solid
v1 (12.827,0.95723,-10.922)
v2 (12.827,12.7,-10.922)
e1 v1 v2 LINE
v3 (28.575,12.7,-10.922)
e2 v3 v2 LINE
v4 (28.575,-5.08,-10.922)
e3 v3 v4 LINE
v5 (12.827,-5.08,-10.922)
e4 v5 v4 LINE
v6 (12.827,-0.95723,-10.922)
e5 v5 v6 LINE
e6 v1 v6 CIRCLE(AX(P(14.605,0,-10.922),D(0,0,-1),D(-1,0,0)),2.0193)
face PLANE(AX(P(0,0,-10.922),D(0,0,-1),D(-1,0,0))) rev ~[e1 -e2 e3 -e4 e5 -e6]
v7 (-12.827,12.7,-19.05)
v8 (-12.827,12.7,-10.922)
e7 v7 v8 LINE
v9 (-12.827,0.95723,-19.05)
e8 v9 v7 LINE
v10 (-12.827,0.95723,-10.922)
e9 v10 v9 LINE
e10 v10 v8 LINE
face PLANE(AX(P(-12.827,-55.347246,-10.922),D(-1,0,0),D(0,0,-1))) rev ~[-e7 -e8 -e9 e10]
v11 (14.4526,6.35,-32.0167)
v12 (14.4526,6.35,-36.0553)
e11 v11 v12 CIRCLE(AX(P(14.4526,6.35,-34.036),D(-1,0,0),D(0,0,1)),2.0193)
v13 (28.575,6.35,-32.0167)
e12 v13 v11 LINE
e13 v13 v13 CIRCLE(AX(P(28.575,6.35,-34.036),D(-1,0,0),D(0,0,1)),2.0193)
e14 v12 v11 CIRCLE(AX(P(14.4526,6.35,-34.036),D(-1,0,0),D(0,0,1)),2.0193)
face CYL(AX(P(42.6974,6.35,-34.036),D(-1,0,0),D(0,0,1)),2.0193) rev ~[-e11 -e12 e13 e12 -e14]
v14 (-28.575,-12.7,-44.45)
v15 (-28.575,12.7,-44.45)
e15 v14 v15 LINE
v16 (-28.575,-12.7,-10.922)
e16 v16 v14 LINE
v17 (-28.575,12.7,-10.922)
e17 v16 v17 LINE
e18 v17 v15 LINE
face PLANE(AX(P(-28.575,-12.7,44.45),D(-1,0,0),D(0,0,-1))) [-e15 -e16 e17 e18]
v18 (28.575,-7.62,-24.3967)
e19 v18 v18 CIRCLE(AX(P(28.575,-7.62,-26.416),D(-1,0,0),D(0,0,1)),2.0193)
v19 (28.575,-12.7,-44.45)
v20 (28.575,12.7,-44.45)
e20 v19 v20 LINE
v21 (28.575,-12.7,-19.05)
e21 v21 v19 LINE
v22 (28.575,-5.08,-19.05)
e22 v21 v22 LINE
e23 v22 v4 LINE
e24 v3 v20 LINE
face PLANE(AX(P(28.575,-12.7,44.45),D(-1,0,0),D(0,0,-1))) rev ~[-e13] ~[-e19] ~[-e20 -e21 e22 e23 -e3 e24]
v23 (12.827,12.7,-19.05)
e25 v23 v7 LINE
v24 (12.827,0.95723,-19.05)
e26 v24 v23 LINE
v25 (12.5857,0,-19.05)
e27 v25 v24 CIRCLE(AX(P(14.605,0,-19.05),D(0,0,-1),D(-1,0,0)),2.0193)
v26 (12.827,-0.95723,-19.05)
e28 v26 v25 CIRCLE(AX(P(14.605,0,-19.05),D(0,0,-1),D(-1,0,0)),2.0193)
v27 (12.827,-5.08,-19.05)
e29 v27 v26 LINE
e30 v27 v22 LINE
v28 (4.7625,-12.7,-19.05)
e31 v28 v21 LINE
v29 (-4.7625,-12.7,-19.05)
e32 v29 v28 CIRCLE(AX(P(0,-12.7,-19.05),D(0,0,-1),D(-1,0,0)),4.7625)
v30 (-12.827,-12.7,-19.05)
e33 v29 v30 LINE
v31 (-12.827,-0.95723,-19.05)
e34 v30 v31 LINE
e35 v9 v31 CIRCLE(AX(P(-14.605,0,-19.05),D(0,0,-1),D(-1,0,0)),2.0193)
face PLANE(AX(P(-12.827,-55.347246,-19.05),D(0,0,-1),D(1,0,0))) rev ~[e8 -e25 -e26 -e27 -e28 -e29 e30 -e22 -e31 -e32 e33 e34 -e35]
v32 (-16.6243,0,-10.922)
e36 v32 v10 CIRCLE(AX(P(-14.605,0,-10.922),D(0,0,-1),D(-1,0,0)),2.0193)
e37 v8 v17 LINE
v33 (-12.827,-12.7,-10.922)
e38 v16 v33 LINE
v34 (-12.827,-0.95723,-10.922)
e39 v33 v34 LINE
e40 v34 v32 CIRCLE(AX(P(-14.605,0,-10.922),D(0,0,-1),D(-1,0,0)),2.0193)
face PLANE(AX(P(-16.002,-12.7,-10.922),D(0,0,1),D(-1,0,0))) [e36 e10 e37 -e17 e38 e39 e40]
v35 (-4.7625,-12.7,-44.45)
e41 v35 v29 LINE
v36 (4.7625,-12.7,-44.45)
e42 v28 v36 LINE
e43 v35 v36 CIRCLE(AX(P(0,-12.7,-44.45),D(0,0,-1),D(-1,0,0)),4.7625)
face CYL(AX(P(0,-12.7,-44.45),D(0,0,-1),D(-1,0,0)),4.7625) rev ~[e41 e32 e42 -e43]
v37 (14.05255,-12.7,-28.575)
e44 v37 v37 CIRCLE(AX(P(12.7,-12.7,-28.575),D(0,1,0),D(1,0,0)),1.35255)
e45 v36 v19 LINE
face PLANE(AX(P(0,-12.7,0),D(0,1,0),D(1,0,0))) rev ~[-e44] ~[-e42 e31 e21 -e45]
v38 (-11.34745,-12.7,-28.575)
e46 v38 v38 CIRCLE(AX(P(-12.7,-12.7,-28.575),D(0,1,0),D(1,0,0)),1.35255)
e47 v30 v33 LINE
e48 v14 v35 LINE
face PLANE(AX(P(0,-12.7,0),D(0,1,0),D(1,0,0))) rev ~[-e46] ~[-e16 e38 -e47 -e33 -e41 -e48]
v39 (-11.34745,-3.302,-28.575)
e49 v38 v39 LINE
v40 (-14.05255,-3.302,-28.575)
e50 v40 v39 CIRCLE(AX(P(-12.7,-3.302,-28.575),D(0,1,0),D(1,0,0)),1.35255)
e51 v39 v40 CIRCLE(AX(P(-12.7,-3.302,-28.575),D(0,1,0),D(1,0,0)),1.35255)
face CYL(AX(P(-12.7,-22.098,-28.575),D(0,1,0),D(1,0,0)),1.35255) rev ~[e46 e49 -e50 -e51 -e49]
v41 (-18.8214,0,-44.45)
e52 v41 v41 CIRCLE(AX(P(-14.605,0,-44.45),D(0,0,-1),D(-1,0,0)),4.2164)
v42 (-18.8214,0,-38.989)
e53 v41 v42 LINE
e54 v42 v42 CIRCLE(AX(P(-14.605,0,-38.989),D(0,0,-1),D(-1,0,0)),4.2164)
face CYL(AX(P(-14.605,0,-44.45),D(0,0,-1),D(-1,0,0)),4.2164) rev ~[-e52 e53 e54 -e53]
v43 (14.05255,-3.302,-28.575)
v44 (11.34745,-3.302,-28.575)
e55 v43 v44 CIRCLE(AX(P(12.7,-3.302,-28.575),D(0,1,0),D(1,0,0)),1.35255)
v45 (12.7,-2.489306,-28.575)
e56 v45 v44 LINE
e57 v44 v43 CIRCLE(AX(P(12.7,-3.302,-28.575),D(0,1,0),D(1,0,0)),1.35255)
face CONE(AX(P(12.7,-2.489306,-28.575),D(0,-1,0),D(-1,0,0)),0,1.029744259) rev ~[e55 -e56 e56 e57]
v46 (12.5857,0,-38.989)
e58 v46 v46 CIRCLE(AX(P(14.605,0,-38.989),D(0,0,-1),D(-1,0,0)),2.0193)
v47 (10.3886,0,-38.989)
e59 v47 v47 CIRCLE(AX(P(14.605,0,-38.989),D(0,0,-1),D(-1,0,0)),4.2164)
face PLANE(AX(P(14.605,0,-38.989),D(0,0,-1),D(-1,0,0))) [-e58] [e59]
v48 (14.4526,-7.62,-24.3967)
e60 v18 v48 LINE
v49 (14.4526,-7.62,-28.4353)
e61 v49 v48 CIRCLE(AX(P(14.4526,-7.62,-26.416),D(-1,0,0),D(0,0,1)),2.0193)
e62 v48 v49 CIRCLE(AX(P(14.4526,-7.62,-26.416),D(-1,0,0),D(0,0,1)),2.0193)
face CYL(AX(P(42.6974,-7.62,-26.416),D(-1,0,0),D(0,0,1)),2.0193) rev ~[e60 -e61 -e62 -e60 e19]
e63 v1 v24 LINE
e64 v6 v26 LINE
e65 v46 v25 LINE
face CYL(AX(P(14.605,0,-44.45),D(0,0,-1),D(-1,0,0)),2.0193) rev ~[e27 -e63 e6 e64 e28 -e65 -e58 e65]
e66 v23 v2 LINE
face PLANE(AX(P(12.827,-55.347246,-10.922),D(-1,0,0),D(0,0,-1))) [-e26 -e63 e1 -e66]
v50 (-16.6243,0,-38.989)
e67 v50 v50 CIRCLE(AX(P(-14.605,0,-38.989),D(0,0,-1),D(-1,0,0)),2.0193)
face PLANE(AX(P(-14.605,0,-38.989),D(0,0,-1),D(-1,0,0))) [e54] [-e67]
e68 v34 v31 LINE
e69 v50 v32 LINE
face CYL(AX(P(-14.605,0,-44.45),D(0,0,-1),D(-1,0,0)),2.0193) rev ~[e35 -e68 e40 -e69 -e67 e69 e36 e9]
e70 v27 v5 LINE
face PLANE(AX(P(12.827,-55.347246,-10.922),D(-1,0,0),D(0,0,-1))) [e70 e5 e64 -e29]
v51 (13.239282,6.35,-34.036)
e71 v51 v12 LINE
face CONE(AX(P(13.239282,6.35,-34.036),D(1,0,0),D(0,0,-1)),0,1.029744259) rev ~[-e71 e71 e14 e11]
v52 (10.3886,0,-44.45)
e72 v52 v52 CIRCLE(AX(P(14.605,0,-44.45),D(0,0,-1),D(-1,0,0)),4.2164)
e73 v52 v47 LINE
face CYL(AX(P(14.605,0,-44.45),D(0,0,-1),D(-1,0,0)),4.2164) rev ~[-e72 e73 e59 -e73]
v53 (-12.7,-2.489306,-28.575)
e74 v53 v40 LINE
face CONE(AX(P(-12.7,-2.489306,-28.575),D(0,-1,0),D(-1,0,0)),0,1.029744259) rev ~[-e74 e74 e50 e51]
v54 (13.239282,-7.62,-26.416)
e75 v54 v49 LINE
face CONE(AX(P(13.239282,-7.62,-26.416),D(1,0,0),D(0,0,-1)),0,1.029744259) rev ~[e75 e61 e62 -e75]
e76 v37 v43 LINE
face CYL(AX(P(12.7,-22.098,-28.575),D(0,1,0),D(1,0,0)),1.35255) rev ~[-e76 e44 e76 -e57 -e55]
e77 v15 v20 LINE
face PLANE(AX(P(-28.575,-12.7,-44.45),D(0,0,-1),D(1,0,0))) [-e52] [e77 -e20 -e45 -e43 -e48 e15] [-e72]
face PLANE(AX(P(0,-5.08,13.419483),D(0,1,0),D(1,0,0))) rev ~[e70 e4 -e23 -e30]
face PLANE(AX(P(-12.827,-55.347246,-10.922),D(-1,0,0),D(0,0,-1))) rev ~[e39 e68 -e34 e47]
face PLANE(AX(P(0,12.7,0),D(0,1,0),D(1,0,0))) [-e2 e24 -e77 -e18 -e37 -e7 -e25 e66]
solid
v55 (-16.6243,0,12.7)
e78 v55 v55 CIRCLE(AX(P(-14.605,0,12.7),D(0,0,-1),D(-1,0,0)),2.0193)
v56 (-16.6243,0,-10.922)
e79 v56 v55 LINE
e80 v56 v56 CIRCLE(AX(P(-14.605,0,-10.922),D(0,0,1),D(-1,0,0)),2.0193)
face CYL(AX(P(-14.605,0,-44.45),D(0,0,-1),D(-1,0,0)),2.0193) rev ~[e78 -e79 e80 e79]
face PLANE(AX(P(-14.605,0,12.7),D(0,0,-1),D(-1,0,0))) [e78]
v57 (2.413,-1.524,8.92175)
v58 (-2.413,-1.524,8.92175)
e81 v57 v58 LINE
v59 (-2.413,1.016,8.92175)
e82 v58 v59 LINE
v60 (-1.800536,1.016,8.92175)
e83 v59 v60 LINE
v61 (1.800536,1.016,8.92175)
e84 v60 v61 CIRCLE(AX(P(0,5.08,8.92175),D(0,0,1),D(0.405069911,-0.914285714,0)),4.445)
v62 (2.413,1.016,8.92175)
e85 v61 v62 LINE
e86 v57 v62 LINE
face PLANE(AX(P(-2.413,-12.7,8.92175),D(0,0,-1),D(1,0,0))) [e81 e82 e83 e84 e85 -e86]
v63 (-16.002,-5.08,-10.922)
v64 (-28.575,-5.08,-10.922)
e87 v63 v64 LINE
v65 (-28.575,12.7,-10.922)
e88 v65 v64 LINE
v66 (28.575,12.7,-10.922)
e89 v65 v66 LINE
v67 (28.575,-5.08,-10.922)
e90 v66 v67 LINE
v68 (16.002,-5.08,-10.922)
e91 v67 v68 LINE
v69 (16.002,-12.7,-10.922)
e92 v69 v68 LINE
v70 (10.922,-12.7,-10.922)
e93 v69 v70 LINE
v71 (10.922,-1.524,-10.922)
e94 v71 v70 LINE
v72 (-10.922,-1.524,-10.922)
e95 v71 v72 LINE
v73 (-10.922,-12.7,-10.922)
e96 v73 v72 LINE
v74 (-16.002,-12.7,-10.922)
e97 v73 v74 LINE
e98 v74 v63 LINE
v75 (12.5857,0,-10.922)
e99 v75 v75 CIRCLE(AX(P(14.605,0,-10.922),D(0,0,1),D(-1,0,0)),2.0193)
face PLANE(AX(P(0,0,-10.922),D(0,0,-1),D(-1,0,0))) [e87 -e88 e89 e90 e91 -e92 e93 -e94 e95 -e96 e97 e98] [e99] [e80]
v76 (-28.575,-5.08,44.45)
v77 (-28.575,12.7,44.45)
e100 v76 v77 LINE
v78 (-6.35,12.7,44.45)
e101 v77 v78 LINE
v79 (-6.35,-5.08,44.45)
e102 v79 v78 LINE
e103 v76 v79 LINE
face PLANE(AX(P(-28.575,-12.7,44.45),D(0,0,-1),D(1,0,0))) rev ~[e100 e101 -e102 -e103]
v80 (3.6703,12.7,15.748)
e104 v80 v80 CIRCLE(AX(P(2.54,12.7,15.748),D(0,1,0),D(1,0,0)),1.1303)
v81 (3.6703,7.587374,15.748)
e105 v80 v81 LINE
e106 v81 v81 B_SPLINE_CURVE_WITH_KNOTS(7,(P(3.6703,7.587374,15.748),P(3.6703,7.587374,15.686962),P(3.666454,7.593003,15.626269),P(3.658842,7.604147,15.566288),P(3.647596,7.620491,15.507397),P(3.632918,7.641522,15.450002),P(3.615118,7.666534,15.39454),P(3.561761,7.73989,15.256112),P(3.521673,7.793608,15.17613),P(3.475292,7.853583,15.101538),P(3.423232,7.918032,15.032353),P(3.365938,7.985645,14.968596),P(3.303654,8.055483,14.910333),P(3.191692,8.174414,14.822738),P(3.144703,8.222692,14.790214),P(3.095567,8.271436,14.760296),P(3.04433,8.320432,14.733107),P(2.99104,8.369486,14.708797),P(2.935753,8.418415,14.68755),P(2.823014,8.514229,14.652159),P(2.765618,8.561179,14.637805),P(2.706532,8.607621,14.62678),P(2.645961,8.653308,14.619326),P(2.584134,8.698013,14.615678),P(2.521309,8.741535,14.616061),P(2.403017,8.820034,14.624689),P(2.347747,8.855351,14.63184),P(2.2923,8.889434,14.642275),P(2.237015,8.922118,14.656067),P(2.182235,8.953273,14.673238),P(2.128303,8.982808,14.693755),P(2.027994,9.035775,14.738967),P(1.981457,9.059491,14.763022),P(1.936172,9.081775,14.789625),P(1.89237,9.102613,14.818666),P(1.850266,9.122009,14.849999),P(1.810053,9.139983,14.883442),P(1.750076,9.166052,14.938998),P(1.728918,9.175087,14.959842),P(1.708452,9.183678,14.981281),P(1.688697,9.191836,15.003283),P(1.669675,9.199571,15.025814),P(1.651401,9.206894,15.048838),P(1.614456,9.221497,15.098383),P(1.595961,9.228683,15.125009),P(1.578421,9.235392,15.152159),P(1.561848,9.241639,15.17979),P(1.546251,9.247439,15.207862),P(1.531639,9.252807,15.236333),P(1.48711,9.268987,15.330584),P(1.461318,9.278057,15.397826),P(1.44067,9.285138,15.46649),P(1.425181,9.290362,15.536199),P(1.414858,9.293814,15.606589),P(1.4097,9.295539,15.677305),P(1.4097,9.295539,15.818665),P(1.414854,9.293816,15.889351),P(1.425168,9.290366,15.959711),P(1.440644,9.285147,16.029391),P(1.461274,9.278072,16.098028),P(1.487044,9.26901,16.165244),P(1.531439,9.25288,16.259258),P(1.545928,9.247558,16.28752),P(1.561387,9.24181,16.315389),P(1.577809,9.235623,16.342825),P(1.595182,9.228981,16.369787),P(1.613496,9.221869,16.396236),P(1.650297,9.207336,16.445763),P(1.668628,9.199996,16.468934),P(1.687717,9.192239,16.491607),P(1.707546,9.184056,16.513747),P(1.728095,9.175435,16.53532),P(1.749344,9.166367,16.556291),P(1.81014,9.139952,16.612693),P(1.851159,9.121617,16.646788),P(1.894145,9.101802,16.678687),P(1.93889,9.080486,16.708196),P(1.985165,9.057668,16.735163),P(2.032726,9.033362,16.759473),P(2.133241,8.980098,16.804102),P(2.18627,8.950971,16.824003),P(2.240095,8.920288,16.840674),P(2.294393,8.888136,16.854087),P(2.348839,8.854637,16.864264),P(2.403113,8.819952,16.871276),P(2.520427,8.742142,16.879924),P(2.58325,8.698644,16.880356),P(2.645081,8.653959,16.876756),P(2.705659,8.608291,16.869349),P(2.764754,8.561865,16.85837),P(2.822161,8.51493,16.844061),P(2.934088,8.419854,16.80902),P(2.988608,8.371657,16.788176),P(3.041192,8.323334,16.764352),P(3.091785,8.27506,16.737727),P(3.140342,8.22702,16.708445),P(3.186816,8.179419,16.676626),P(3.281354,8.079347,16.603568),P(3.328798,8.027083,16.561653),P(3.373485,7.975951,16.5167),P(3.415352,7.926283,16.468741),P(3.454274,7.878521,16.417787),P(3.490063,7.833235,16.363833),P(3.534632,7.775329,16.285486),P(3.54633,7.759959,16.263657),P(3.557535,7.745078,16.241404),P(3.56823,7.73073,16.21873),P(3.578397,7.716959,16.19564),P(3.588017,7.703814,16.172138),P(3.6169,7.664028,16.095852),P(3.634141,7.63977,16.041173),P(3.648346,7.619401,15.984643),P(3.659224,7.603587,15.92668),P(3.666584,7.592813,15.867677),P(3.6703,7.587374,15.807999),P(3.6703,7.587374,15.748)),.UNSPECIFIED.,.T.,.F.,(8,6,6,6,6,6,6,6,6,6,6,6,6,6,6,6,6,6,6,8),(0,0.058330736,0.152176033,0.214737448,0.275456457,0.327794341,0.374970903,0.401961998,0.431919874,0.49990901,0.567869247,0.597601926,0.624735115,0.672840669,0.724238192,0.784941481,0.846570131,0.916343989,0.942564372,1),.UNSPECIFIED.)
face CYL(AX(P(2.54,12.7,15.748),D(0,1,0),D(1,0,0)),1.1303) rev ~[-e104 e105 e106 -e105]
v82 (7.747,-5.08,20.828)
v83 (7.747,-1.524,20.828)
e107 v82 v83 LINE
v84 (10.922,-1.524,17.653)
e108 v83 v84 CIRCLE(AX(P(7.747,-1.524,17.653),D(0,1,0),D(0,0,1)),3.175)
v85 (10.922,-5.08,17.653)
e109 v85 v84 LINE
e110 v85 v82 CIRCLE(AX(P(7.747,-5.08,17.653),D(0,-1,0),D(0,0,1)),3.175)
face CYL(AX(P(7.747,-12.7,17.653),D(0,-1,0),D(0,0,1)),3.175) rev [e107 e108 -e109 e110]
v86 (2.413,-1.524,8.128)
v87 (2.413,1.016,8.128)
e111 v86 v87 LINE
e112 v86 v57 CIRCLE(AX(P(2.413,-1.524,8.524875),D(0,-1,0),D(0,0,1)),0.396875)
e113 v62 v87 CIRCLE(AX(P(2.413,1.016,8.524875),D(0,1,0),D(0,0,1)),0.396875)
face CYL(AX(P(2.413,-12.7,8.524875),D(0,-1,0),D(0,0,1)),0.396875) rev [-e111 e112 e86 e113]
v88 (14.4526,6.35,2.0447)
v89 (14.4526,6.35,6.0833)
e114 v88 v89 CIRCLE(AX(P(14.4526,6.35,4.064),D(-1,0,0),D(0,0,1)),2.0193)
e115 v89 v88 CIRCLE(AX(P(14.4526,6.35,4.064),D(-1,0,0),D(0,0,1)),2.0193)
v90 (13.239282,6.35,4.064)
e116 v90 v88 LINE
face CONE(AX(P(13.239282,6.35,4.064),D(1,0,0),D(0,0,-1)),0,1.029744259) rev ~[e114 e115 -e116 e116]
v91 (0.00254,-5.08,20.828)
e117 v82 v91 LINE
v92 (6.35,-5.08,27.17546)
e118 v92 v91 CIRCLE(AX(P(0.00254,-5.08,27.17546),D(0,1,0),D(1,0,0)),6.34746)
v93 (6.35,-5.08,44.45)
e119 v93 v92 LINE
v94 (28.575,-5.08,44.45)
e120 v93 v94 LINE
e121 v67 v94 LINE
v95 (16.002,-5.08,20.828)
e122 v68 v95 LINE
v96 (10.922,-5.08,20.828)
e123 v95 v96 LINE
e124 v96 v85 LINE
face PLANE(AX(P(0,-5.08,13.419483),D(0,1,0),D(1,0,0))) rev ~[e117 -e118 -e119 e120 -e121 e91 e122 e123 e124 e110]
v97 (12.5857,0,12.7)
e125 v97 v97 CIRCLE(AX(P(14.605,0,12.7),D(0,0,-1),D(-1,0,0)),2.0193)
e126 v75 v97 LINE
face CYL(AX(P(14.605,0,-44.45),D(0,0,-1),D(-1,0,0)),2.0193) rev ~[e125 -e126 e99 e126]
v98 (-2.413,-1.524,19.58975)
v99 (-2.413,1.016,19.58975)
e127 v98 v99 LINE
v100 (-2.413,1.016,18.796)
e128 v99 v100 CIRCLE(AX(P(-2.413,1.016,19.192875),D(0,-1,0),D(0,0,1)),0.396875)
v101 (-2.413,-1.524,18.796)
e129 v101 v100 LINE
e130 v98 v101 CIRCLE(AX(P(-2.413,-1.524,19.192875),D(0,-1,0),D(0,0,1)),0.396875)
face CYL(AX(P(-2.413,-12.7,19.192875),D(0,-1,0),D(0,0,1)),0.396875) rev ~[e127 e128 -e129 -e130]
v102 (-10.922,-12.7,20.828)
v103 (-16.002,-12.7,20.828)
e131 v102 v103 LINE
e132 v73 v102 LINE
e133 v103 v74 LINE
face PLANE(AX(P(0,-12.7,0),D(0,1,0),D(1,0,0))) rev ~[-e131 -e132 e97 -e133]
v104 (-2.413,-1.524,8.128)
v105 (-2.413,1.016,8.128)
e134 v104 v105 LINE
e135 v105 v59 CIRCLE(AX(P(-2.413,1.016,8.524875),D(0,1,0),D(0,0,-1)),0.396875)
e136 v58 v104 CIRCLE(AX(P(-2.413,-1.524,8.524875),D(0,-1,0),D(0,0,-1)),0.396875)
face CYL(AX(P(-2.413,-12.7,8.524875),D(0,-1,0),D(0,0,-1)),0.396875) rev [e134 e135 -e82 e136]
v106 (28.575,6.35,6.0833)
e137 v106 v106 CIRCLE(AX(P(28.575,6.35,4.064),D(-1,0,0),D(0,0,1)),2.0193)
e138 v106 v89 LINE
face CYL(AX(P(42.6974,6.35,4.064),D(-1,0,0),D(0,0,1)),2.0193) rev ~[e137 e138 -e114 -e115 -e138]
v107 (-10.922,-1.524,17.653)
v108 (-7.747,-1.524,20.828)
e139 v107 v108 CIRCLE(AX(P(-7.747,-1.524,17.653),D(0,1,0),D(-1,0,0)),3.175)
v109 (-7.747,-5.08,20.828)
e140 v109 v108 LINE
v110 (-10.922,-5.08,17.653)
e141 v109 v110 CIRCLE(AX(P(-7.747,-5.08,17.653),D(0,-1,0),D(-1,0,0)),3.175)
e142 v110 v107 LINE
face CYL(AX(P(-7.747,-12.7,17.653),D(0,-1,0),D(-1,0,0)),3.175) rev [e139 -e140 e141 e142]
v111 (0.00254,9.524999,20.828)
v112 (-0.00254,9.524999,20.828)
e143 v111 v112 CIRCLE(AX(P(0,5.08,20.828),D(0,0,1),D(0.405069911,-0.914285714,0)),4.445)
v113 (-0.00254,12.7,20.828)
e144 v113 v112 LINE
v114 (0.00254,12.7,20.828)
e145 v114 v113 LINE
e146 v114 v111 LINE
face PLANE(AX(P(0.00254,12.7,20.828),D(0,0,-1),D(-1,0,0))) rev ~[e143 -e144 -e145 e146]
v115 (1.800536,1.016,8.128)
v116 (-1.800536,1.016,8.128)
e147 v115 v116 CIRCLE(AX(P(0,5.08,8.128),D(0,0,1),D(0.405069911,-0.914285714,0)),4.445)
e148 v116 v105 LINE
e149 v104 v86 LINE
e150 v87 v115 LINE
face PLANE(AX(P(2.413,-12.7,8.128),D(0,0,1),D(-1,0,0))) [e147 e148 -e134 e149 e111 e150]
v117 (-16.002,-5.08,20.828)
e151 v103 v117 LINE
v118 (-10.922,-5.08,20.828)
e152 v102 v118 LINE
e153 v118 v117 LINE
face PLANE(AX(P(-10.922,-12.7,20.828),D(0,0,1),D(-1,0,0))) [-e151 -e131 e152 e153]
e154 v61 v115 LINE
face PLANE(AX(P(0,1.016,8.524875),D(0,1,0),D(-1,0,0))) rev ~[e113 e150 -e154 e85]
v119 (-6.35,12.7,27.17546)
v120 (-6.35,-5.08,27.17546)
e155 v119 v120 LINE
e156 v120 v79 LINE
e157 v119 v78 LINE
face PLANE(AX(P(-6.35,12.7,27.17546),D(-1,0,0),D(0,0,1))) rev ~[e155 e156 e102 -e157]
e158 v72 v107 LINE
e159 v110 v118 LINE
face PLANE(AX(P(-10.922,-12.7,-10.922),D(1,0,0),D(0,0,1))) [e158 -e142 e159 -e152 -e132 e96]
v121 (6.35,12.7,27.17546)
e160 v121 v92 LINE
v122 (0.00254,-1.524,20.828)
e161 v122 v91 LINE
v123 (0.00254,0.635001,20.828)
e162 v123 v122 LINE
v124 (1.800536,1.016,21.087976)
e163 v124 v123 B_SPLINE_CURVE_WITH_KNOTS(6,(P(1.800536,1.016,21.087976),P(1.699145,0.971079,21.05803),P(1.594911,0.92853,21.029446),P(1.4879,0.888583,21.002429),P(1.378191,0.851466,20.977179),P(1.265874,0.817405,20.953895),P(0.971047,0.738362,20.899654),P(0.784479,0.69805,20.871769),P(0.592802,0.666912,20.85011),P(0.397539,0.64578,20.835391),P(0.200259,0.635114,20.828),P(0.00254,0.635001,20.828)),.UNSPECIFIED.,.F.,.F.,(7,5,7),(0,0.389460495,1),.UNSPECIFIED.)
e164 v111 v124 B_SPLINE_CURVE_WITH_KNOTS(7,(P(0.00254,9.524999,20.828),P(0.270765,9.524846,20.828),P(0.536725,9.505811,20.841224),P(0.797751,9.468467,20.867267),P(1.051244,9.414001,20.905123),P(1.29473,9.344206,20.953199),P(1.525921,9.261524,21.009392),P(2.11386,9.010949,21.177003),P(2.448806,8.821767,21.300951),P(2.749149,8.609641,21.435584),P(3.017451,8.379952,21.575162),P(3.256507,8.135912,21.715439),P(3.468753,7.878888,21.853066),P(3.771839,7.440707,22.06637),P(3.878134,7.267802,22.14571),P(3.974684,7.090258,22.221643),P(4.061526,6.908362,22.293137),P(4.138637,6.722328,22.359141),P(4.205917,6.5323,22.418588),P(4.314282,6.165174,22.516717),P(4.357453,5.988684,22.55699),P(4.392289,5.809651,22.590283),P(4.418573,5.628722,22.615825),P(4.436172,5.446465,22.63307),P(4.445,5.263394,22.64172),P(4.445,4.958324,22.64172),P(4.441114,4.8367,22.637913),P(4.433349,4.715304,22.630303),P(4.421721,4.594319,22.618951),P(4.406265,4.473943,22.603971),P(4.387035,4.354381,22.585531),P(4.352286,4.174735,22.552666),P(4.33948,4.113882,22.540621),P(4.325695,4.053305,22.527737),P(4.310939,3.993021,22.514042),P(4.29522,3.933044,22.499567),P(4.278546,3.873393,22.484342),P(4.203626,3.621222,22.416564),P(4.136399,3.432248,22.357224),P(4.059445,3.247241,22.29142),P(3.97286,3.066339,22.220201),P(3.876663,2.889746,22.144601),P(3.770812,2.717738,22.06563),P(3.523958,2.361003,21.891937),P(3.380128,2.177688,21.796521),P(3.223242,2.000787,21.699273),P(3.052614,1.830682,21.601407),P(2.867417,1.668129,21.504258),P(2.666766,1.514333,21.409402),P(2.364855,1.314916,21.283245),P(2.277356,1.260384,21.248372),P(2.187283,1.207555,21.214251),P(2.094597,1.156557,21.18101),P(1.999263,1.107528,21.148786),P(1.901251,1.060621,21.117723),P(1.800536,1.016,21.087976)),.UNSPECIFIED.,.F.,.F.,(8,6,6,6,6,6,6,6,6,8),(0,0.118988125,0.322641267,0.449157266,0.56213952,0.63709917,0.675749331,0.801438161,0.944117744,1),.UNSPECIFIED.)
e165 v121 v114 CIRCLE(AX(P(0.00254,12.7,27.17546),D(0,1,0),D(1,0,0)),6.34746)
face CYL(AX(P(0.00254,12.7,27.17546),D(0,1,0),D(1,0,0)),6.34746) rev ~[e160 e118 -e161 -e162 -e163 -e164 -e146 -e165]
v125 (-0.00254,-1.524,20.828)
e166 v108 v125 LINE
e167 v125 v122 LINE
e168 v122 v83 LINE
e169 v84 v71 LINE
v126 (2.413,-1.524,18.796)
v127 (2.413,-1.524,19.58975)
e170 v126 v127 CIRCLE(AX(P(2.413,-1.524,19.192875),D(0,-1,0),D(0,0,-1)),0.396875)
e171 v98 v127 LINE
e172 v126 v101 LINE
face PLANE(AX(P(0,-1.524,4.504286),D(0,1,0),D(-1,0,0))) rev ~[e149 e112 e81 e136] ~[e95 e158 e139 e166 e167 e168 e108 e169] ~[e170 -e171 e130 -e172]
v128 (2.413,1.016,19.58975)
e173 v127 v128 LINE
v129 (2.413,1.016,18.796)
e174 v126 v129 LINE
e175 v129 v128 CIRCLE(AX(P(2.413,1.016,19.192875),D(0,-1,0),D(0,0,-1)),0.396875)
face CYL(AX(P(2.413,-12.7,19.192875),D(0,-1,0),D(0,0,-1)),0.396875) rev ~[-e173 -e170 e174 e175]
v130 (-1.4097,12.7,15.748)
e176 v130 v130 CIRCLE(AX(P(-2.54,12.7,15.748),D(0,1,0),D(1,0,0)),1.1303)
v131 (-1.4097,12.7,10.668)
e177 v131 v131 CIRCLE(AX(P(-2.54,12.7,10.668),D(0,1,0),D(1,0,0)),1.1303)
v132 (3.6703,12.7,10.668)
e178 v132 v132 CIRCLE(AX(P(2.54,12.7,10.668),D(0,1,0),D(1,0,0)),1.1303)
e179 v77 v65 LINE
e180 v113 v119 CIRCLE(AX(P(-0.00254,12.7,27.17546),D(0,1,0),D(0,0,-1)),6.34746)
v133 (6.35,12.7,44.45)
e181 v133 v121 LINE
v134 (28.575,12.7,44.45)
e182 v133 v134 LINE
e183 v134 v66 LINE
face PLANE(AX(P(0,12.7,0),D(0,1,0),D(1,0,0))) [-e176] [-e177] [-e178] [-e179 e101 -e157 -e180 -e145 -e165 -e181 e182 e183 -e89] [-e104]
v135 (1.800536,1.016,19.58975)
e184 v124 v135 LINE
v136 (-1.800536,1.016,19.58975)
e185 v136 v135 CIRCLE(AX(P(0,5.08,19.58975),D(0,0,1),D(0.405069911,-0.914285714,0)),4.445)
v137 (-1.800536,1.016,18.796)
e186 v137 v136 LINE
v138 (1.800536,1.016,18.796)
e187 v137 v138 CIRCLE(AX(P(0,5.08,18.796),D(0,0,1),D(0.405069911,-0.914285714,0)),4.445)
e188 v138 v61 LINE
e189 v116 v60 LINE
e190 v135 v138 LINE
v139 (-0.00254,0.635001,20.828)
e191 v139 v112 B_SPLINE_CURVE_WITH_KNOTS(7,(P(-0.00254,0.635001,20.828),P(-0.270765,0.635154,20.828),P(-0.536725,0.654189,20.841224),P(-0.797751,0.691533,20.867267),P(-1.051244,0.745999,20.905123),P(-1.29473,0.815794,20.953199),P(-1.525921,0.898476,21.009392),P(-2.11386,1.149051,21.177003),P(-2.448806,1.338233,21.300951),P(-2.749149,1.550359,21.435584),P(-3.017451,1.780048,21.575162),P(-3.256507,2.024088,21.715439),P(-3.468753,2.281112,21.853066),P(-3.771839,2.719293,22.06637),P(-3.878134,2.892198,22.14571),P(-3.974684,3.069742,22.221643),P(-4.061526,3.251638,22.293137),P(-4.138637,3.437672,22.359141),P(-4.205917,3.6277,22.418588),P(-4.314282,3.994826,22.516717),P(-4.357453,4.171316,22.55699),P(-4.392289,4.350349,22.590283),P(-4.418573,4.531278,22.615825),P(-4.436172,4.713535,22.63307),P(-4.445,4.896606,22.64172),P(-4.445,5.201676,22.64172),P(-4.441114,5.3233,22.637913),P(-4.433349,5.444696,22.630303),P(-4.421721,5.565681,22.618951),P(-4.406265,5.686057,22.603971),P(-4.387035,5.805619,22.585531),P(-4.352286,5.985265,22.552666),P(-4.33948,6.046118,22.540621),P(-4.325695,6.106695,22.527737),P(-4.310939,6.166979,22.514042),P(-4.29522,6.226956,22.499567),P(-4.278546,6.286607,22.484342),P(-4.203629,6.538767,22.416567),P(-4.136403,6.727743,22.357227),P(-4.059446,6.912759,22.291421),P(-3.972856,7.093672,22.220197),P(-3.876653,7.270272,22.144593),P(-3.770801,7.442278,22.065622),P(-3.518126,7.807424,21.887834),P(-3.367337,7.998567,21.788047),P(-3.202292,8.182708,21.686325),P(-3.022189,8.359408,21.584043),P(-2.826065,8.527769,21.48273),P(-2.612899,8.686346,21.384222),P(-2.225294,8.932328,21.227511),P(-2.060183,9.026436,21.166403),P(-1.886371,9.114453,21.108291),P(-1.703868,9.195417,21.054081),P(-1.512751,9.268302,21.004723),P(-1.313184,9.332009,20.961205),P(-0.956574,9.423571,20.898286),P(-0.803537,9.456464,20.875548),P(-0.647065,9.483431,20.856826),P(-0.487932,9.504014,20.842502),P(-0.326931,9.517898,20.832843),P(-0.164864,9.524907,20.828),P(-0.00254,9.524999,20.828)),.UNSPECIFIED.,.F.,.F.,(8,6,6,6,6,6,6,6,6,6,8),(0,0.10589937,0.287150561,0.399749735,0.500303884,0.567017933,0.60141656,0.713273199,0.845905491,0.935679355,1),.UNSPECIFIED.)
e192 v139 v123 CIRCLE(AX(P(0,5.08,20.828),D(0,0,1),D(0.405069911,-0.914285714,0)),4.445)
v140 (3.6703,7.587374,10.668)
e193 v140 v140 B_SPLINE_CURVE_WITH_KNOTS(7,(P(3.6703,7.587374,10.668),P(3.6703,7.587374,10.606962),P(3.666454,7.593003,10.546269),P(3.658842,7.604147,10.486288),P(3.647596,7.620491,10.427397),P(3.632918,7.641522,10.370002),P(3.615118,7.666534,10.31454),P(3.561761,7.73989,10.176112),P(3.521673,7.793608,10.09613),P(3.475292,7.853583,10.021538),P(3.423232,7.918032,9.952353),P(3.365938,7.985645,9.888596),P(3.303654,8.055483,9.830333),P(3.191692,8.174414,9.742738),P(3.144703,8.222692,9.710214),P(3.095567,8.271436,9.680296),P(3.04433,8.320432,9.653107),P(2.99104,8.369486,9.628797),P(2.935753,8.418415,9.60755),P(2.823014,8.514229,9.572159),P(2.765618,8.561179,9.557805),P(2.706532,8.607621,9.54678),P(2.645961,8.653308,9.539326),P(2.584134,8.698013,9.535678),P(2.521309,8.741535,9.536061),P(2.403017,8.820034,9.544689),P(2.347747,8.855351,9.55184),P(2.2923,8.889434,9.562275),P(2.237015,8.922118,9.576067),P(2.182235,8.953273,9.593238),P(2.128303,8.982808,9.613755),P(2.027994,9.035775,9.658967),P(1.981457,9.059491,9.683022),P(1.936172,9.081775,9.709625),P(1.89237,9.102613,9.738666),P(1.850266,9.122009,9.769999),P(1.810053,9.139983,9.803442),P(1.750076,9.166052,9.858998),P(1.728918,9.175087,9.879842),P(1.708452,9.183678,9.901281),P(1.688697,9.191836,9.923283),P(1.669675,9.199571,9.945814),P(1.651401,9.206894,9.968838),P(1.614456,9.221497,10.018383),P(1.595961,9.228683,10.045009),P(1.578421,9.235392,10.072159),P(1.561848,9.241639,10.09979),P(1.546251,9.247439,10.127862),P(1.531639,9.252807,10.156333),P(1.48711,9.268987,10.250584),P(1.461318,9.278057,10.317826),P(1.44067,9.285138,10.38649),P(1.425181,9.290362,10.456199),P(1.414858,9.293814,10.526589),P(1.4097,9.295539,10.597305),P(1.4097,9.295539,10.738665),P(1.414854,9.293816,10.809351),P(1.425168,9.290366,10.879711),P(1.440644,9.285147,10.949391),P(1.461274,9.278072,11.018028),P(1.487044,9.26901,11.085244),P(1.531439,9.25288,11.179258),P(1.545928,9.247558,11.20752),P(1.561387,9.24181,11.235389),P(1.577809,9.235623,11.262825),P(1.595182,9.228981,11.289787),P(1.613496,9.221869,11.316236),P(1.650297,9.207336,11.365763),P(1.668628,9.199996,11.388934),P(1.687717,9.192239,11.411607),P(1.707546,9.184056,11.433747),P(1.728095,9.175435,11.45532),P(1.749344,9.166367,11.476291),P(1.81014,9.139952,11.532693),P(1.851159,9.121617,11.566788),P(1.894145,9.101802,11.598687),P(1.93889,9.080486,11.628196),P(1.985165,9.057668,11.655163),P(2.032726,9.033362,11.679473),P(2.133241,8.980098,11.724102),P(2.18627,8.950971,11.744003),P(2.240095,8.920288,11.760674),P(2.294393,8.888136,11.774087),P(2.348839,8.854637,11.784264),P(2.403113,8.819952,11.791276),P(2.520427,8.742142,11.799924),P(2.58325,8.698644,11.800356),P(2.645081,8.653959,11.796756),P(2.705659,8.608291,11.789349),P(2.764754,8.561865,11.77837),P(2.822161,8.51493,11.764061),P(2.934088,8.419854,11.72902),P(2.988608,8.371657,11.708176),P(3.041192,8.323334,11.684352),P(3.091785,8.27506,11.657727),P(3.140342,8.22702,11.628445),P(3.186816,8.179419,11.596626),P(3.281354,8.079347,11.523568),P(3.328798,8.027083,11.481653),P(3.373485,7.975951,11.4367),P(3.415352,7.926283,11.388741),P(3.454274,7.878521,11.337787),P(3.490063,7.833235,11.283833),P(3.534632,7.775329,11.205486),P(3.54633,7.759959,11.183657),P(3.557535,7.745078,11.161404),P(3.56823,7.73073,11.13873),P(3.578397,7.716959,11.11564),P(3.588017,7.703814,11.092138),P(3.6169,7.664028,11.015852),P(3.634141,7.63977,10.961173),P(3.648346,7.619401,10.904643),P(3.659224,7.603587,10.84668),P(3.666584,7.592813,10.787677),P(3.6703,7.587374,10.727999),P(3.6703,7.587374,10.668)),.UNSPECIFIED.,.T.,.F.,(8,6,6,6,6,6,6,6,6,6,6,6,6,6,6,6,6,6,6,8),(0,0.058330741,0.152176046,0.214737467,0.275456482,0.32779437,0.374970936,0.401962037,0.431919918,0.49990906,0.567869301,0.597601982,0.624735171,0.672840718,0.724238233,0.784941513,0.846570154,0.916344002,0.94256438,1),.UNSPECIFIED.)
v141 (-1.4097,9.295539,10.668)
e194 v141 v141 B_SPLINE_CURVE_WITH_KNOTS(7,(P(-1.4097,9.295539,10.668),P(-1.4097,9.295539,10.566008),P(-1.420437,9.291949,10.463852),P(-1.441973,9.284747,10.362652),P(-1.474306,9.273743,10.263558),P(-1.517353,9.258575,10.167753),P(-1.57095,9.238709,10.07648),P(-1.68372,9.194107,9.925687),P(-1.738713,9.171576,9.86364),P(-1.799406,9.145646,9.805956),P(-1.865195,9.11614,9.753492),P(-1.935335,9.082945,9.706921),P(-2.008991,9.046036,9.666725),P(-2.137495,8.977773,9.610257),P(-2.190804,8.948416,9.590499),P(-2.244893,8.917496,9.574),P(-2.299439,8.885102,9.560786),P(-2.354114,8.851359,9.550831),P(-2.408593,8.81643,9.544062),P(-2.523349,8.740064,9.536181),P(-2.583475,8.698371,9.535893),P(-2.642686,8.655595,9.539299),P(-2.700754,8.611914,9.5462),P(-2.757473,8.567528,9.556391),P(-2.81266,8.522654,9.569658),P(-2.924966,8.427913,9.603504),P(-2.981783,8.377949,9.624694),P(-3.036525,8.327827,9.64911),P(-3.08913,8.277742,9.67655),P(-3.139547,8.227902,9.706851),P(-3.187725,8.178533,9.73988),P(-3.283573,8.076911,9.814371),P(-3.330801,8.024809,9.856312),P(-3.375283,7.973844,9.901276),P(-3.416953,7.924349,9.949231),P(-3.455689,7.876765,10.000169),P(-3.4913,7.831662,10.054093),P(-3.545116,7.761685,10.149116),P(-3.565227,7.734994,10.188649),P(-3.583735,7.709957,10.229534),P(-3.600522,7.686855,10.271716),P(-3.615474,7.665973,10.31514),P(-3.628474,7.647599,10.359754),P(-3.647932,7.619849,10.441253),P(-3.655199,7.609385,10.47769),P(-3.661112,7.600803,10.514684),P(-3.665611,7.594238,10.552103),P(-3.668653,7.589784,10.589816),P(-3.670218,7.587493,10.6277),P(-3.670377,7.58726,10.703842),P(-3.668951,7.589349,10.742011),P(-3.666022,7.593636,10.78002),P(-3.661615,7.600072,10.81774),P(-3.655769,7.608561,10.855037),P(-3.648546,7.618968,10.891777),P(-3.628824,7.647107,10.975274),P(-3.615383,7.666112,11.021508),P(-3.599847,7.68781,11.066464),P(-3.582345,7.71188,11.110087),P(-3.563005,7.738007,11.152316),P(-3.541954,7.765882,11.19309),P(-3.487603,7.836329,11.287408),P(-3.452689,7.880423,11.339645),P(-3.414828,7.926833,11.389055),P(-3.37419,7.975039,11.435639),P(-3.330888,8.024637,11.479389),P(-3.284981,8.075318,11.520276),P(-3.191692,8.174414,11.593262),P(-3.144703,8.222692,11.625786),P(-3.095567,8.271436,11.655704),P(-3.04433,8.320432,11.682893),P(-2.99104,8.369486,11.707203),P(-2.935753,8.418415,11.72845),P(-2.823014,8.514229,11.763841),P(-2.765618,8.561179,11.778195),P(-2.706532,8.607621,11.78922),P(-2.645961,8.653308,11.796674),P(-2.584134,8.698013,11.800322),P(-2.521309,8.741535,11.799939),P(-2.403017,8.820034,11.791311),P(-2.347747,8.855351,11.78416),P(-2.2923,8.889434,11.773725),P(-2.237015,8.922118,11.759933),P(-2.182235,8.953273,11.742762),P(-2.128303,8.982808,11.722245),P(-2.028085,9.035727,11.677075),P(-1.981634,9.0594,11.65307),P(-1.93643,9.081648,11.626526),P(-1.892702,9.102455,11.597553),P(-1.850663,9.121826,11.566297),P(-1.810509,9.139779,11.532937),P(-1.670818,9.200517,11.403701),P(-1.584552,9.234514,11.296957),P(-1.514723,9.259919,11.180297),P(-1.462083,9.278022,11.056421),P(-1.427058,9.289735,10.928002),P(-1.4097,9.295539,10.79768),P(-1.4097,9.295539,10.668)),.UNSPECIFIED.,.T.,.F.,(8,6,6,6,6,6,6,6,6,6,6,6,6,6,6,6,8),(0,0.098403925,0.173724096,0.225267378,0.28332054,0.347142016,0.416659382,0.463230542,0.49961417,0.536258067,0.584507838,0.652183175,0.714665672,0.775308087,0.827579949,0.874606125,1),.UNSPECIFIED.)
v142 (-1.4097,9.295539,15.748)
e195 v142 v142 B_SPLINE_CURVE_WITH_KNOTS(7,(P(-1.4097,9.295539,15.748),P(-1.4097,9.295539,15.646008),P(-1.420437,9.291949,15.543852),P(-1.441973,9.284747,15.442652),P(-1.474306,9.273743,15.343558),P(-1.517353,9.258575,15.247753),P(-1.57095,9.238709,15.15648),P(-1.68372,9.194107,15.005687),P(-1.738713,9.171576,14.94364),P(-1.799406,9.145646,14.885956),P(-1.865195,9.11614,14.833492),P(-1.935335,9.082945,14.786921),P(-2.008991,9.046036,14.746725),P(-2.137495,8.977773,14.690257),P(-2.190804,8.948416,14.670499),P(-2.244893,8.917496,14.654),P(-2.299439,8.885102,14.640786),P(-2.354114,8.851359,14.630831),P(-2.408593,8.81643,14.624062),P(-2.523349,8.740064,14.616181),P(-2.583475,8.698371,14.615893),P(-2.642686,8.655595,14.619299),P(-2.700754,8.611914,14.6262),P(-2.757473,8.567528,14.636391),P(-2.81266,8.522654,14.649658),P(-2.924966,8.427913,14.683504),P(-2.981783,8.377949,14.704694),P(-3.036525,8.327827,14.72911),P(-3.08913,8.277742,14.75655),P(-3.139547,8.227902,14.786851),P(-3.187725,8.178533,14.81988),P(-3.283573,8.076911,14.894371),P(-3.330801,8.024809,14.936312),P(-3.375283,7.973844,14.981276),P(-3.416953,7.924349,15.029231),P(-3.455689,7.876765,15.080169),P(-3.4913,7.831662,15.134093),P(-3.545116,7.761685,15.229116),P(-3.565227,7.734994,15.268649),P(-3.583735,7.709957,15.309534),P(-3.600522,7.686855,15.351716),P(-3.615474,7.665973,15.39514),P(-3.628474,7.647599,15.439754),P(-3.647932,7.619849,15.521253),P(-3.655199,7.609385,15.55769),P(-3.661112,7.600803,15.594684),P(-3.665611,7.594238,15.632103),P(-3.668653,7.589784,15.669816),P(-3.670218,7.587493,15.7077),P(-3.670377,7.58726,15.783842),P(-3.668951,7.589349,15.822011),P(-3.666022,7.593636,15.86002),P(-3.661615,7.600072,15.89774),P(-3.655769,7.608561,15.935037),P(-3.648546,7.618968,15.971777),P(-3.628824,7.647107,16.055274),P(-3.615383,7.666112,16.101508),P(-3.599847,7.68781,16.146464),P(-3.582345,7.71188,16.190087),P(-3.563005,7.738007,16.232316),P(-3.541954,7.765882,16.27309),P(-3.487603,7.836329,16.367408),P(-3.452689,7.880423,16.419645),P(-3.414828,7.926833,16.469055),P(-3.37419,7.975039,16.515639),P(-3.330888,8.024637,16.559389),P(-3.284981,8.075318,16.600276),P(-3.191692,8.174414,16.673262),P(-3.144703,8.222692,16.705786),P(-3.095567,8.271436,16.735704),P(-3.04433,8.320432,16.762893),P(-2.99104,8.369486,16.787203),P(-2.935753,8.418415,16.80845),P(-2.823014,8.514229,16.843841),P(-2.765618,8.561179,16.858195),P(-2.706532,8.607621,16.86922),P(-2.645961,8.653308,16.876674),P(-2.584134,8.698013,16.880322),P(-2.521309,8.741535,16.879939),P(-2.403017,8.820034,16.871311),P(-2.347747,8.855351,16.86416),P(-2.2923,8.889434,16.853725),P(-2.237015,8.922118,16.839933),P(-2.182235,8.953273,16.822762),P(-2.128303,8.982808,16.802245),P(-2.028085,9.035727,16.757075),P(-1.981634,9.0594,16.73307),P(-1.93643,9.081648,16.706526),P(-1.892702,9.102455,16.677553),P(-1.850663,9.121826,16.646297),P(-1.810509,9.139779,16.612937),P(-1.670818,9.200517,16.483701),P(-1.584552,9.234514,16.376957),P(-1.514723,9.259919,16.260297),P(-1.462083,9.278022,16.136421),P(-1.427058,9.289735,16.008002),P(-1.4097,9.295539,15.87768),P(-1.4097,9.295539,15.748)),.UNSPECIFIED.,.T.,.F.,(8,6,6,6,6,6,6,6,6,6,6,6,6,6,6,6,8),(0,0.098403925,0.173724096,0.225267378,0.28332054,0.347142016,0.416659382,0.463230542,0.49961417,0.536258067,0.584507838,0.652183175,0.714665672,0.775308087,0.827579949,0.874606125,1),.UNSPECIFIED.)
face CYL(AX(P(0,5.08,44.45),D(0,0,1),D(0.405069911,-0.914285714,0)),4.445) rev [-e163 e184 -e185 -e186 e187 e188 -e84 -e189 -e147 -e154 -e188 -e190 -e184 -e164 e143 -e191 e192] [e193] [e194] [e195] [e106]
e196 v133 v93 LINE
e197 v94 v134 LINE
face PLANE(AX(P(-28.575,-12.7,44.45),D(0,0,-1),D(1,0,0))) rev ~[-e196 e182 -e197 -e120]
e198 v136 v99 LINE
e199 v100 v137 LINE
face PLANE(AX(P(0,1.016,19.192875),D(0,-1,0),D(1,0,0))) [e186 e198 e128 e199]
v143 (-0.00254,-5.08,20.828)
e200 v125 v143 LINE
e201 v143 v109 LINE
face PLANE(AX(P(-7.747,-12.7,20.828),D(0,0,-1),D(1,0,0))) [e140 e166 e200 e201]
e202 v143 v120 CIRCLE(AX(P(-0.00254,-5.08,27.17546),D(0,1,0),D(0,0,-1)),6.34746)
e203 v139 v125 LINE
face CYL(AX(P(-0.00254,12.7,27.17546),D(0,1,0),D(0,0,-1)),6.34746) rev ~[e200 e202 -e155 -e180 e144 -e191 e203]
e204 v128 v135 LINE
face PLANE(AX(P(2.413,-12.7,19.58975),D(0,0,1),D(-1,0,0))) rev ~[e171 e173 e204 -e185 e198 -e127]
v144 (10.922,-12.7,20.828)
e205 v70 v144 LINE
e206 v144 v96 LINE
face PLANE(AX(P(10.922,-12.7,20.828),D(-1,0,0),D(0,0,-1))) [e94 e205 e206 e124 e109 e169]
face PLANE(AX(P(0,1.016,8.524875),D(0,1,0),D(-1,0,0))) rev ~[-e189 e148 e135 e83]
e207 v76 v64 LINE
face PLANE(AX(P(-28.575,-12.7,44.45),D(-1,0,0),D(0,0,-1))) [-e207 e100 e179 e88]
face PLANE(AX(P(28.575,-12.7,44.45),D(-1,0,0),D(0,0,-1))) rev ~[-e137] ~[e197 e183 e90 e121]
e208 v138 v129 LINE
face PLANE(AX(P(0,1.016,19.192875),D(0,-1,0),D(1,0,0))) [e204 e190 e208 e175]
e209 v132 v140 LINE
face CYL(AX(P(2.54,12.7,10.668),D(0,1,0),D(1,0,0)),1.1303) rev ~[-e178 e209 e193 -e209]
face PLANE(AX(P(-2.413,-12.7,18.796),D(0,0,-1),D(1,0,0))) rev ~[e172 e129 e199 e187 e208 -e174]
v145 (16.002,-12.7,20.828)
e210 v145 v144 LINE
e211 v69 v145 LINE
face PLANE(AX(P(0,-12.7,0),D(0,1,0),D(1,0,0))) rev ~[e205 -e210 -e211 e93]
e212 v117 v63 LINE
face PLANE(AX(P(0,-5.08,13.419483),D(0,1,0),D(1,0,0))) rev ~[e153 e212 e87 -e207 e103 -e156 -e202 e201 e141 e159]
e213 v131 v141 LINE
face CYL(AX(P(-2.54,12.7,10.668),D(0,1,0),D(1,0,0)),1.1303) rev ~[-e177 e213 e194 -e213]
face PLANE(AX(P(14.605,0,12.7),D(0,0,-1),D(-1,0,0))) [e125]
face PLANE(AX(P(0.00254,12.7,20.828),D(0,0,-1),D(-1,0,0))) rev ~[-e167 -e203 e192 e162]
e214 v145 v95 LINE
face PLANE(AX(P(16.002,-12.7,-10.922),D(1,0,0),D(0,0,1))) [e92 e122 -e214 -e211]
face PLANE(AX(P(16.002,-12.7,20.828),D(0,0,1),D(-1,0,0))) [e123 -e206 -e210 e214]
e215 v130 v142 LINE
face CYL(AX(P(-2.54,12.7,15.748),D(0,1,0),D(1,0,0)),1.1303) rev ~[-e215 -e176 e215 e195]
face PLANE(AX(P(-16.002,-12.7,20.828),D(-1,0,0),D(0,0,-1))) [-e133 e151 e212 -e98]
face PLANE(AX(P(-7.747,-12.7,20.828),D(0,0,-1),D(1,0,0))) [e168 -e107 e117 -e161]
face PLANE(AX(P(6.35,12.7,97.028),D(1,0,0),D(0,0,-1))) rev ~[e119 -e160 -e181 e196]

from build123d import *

# Parameters (mm, degrees)
BASE_DEPTH              = 12.7
BASE_DEPTH_BACK         = 12.7
SKETCH1_W               = 57.15
SKETCH1_H               = 88.9
SKETCH2_R               = 4.7625
SHAFTGUIDE_DEPTH        = 25.4
ACTUATORPLANECUT_DEPTH  = 7.62
WIRECHANNEL_DEPTH       = 55.34724579
WIRECHANNEL_DEPTH_BACK  = 55.34724579
SKETCH5_W               = 25.654
SKETCH5_H               = 8.128
SKETCH13_W              = 15.748
SKETCH13_H              = 8.128
WIRECHANNELBOTTOM_DEPTH = 7.62
SKETCH15_R              = 2.0193
FRONTBOLTHOLES_DEPTH    = 57.15
SKETCH17_R              = 4.2164
FRONTCOUNTERBORES_DEPTH = 5.461
GEARBOXPIT_DEPTH        = 11.176
GEARBOXSLOTS_DEPTH      = 13.716
TOGGLEASSEMHOLES_D      = 2.7051
TOGGLEASSEMHOLES_DEPTH  = 9.398
TOGGLEASSEMHOLES_TIP    = 0.81269403
PITCHASSEMHOLES_D       = 4.0386
PITCHASSEMHOLES_DEPTH   = 14.1224
PITCHASSEMHOLES_TIP     = 1.213317848
GRIPSLOT_DEPTH          = 18.288
LINACTHOLE_REACH        = 96.239
SKETCH51_R              = 4.445
LINACTSETHOLES_REACH    = 60.63
LINACTSETHOLES_BORE_R   = 1.1303


with BuildPart() as part:
    # Sketch1 → Base (new, two sides: drawn at the far end of the back side and taken through both)
    with BuildSketch(Plane(origin=(0, 0, 0), x_dir=(1, 0, 0), z_dir=(0, 1, 0)).offset(-BASE_DEPTH_BACK)):
        Rectangle(SKETCH1_W, SKETCH1_H)
    extrude(amount=BASE_DEPTH + BASE_DEPTH_BACK)

    # Sketch2 → ShaftGuide (cut)
    with BuildSketch(Plane(origin=(0, 0, -44.45), x_dir=(-1, 0, 0), z_dir=(0, 0, -1))):
        with Locations((0, -12.7)):
            Circle(SKETCH2_R)
    extrude(amount=-SHAFTGUIDE_DEPTH, mode=Mode.SUBTRACT)

    # Sketch3 → ActuatorPlaneCut (cut)
    with BuildSketch(Plane(origin=(0, -12.7, 0), x_dir=(-1, 0, 0), z_dir=(0, -1, 0))):
        Polygon((10.922, -20.828), (16.002, -20.828), (16.002, 10.922), (28.575, 10.922), (28.575, -3.175), (28.575, -44.45), (-28.575, -44.45), (-28.575, -3.175), (-28.575, 10.922), (-16.002, 10.922), (-16.002, -20.828), (-10.922, -20.828), (-10.922, 10.922), (10.922, 10.922), align=None)
    extrude(amount=-ACTUATORPLANECUT_DEPTH, mode=Mode.SUBTRACT)

    # Sketch5 → WireChannel (cut, two sides: drawn at the far end of the back side and taken through both)
    with BuildSketch(Plane(origin=(0, 0, 0), x_dir=(1, 0, 0), z_dir=(0, 1, 0)).offset(-WIRECHANNEL_DEPTH_BACK)):
        with Locations((0, 14.986)):
            Rectangle(SKETCH5_W, SKETCH5_H)
    extrude(amount=WIRECHANNEL_DEPTH + WIRECHANNEL_DEPTH_BACK, mode=Mode.SUBTRACT)

    # Sketch13 → WireChannelBottom (cut)
    with BuildSketch(Plane.XZ.offset(12.7)):
        with Locations((20.701, -14.986)):
            Rectangle(SKETCH13_W, SKETCH13_H)
    extrude(amount=-WIRECHANNELBOTTOM_DEPTH, mode=Mode.SUBTRACT)

    # Sketch15 → FrontBoltHoles (cut)
    with BuildSketch(Plane(origin=(0, 0, -44.45), x_dir=(-1, 0, 0), z_dir=(0, 0, -1))):
        with Locations((-14.605, 0)):
            Circle(SKETCH15_R)
        with Locations((14.605, 0)):
            Circle(SKETCH15_R)
    extrude(amount=-FRONTBOLTHOLES_DEPTH, mode=Mode.SUBTRACT)

    # Sketch17 → FrontCounterBores (cut)
    with BuildSketch(Plane(origin=(0, 0, -44.45), x_dir=(-1, 0, 0), z_dir=(0, 0, -1))):
        with Locations((-14.605, 0)):
            Circle(SKETCH17_R)
        with Locations((14.605, 0)):
            Circle(SKETCH17_R)
    extrude(amount=-FRONTCOUNTERBORES_DEPTH, mode=Mode.SUBTRACT)

    # Sketch40 → GearBoxPit (cut)
    with BuildSketch(Plane.XZ.offset(12.7)):
        with BuildLine():
            Line((10.922, -10.922), (-10.922, -10.922))
            Line((-10.922, -10.922), (-10.922, 17.653))
            ThreePointArc((-10.922, 17.653), (-9.99206403, 19.89806403), (-7.747, 20.828))
            Line((-7.747, 20.828), (7.747, 20.828))
            ThreePointArc((7.747, 20.828), (9.99206403, 19.89806403), (10.922, 17.653))
            Line((10.922, 17.653), (10.922, -10.922))
        make_face()
    extrude(amount=-GEARBOXPIT_DEPTH, mode=Mode.SUBTRACT)

    # Sketch22 → GearBoxSlots (cut)
    with BuildSketch(Plane.XZ.offset(12.7)):
        with BuildLine():
            Line((2.413, 19.58975), (-2.413, 19.58975))
            ThreePointArc((-2.413, 19.58975), (-2.809875, 19.192875), (-2.413, 18.796))
            Line((-2.413, 18.796), (2.413, 18.796))
            ThreePointArc((2.413, 18.796), (2.809875, 19.192875), (2.413, 19.58975))
        make_face()
        with BuildLine():
            Line((2.413, 8.128), (-2.413, 8.128))
            ThreePointArc((-2.413, 8.128), (-2.809875, 8.524875), (-2.413, 8.92175))
            Line((-2.413, 8.92175), (2.413, 8.92175))
            ThreePointArc((2.413, 8.92175), (2.809875, 8.524875), (2.413, 8.128))
        make_face()
    extrude(amount=-GEARBOXSLOTS_DEPTH, mode=Mode.SUBTRACT)

    # ToggleAssemHoles
    with Locations(Plane(origin=(0, -12.7, 0), x_dir=(-1, 0, 0), z_dir=(0, -1, 0))):
        with Locations((12.7, 28.575), (-12.7, 28.575)):
            Hole(TOGGLEASSEMHOLES_D / 2, depth=TOGGLEASSEMHOLES_DEPTH)
            with Locations((0, 0, -(TOGGLEASSEMHOLES_DEPTH + TOGGLEASSEMHOLES_TIP / 2))):  # 118° drill point
                Cone(0, TOGGLEASSEMHOLES_D / 2, TOGGLEASSEMHOLES_TIP, mode=Mode.SUBTRACT)

    # PitchAssemHoles
    with Locations(Plane(origin=(28.575, 0, 0), x_dir=(0, 0, -1), z_dir=(1, 0, 0))):
        with Locations((34.036, 6.35), (26.416, -7.62), (-4.064, 6.35)):
            Hole(PITCHASSEMHOLES_D / 2, depth=PITCHASSEMHOLES_DEPTH)
            with Locations((0, 0, -(PITCHASSEMHOLES_DEPTH + PITCHASSEMHOLES_TIP / 2))):  # 118° drill point
                Cone(0, PITCHASSEMHOLES_D / 2, PITCHASSEMHOLES_TIP, mode=Mode.SUBTRACT)

    # Sketch39 → GripSlot (cut)
    with BuildSketch(Plane(origin=(0, 12.7, 0), x_dir=(1, 0, 0), z_dir=(0, 1, 0))):
        with BuildLine():
            Line((-6.35, -97.028), (6.35, -97.028))
            Line((6.35, -97.028), (6.35, -27.17546))
            ThreePointArc((6.35, -27.17546), (4.490872009, -22.687127991), (0.00254, -20.828))
            Line((0.00254, -20.828), (-0.00254, -20.828))
            ThreePointArc((-0.00254, -20.828), (-4.490872009, -22.687127991), (-6.35, -27.17546))
            Line((-6.35, -27.17546), (-6.35, -97.028))
        make_face()
    extrude(amount=-GRIPSLOT_DEPTH, mode=Mode.SUBTRACT)

    # LinActHole: up to this face of the body (flat: up to its plane)
    linacthole_end = Plane(part.part.faces().sort_by_distance((0, -0.254, 8.128))[0])
    # Sketch51 → LinActHole (cut, up to the picked face)
    with BuildSketch(Plane(origin=(0, 0, 44.45), x_dir=(-1, 0, 0), z_dir=(0, 0, -1)), mode=Mode.PRIVATE) as linacthole_sk1:
        with Locations(Location((0, 5.08, 0), (0, 0, 246.104491814))):
            Circle(SKETCH51_R)
    linacthole_tool1 = split(extrude(linacthole_sk1.sketch, amount=LINACTHOLE_REACH, mode=Mode.PRIVATE), bisect_by=linacthole_end, keep=Keep.BOTH, mode=Mode.PRIVATE)
    add(linacthole_tool1.solids().sort_by(Axis((0, 5.08, 44.45), (0, 0, -1)))[0], mode=Mode.SUBTRACT)

    # LinActSetHoles bore → LinActSetHoles (cut, up to next)
    with BuildSketch(Plane(origin=(0, 12.7, 0), x_dir=(1, 0, 0), z_dir=(0, 1, 0)), mode=Mode.PRIVATE) as linactsetholes_sk1:
        with Locations((2.54, -15.748)):
            Circle(LINACTSETHOLES_BORE_R)
    linactsetholes_tool1 = extrude(linactsetholes_sk1.sketch, amount=-LINACTSETHOLES_REACH, mode=Mode.PRIVATE) & part.part
    # LinActSetHoles bore → LinActSetHoles (cut, up to next)
    with BuildSketch(Plane(origin=(0, 12.7, 0), x_dir=(1, 0, 0), z_dir=(0, 1, 0)), mode=Mode.PRIVATE) as linactsetholes_sk2:
        with Locations((-2.54, -15.748)):
            Circle(LINACTSETHOLES_BORE_R)
    linactsetholes_tool2 = extrude(linactsetholes_sk2.sketch, amount=-LINACTSETHOLES_REACH, mode=Mode.PRIVATE) & part.part
    # LinActSetHoles bore → LinActSetHoles (cut, up to next)
    with BuildSketch(Plane(origin=(0, 12.7, 0), x_dir=(1, 0, 0), z_dir=(0, 1, 0)), mode=Mode.PRIVATE) as linactsetholes_sk3:
        with Locations((2.54, -10.668)):
            Circle(LINACTSETHOLES_BORE_R)
    linactsetholes_tool3 = extrude(linactsetholes_sk3.sketch, amount=-LINACTSETHOLES_REACH, mode=Mode.PRIVATE) & part.part
    # LinActSetHoles bore → LinActSetHoles (cut, up to next)
    with BuildSketch(Plane(origin=(0, 12.7, 0), x_dir=(1, 0, 0), z_dir=(0, 1, 0)), mode=Mode.PRIVATE) as linactsetholes_sk4:
        with Locations((-2.54, -10.668)):
            Circle(LINACTSETHOLES_BORE_R)
    linactsetholes_tool4 = extrude(linactsetholes_sk4.sketch, amount=-LINACTSETHOLES_REACH, mode=Mode.PRIVATE) & part.part
    add(linactsetholes_tool1.solids().sort_by_distance((2.54, 12.7, 15.748))[0], mode=Mode.SUBTRACT)
    add(linactsetholes_tool2.solids().sort_by_distance((-2.54, 12.7, 15.748))[0], mode=Mode.SUBTRACT)
    add(linactsetholes_tool3.solids().sort_by_distance((2.54, 12.7, 10.668))[0], mode=Mode.SUBTRACT)
    add(linactsetholes_tool4.solids().sort_by_distance((-2.54, 12.7, 10.668))[0], mode=Mode.SUBTRACT)


with BuildPart() as body_2:
    # Split1: the piece on the far side of the plane
    add(part.part)
    split(bisect_by=Plane(origin=(0, 0, -10.922), x_dir=(-1, 0, 0), z_dir=(0, 0, -1)), keep=Keep.BOTTOM)


with BuildPart() as part_1:
    add(part.part)

    # Split1
    split(bisect_by=Plane(origin=(0, 0, -10.922), x_dir=(-1, 0, 0), z_dir=(0, 0, -1)), keep=Keep.TOP)


solid = Compound([body_2.part, part_1.part])
